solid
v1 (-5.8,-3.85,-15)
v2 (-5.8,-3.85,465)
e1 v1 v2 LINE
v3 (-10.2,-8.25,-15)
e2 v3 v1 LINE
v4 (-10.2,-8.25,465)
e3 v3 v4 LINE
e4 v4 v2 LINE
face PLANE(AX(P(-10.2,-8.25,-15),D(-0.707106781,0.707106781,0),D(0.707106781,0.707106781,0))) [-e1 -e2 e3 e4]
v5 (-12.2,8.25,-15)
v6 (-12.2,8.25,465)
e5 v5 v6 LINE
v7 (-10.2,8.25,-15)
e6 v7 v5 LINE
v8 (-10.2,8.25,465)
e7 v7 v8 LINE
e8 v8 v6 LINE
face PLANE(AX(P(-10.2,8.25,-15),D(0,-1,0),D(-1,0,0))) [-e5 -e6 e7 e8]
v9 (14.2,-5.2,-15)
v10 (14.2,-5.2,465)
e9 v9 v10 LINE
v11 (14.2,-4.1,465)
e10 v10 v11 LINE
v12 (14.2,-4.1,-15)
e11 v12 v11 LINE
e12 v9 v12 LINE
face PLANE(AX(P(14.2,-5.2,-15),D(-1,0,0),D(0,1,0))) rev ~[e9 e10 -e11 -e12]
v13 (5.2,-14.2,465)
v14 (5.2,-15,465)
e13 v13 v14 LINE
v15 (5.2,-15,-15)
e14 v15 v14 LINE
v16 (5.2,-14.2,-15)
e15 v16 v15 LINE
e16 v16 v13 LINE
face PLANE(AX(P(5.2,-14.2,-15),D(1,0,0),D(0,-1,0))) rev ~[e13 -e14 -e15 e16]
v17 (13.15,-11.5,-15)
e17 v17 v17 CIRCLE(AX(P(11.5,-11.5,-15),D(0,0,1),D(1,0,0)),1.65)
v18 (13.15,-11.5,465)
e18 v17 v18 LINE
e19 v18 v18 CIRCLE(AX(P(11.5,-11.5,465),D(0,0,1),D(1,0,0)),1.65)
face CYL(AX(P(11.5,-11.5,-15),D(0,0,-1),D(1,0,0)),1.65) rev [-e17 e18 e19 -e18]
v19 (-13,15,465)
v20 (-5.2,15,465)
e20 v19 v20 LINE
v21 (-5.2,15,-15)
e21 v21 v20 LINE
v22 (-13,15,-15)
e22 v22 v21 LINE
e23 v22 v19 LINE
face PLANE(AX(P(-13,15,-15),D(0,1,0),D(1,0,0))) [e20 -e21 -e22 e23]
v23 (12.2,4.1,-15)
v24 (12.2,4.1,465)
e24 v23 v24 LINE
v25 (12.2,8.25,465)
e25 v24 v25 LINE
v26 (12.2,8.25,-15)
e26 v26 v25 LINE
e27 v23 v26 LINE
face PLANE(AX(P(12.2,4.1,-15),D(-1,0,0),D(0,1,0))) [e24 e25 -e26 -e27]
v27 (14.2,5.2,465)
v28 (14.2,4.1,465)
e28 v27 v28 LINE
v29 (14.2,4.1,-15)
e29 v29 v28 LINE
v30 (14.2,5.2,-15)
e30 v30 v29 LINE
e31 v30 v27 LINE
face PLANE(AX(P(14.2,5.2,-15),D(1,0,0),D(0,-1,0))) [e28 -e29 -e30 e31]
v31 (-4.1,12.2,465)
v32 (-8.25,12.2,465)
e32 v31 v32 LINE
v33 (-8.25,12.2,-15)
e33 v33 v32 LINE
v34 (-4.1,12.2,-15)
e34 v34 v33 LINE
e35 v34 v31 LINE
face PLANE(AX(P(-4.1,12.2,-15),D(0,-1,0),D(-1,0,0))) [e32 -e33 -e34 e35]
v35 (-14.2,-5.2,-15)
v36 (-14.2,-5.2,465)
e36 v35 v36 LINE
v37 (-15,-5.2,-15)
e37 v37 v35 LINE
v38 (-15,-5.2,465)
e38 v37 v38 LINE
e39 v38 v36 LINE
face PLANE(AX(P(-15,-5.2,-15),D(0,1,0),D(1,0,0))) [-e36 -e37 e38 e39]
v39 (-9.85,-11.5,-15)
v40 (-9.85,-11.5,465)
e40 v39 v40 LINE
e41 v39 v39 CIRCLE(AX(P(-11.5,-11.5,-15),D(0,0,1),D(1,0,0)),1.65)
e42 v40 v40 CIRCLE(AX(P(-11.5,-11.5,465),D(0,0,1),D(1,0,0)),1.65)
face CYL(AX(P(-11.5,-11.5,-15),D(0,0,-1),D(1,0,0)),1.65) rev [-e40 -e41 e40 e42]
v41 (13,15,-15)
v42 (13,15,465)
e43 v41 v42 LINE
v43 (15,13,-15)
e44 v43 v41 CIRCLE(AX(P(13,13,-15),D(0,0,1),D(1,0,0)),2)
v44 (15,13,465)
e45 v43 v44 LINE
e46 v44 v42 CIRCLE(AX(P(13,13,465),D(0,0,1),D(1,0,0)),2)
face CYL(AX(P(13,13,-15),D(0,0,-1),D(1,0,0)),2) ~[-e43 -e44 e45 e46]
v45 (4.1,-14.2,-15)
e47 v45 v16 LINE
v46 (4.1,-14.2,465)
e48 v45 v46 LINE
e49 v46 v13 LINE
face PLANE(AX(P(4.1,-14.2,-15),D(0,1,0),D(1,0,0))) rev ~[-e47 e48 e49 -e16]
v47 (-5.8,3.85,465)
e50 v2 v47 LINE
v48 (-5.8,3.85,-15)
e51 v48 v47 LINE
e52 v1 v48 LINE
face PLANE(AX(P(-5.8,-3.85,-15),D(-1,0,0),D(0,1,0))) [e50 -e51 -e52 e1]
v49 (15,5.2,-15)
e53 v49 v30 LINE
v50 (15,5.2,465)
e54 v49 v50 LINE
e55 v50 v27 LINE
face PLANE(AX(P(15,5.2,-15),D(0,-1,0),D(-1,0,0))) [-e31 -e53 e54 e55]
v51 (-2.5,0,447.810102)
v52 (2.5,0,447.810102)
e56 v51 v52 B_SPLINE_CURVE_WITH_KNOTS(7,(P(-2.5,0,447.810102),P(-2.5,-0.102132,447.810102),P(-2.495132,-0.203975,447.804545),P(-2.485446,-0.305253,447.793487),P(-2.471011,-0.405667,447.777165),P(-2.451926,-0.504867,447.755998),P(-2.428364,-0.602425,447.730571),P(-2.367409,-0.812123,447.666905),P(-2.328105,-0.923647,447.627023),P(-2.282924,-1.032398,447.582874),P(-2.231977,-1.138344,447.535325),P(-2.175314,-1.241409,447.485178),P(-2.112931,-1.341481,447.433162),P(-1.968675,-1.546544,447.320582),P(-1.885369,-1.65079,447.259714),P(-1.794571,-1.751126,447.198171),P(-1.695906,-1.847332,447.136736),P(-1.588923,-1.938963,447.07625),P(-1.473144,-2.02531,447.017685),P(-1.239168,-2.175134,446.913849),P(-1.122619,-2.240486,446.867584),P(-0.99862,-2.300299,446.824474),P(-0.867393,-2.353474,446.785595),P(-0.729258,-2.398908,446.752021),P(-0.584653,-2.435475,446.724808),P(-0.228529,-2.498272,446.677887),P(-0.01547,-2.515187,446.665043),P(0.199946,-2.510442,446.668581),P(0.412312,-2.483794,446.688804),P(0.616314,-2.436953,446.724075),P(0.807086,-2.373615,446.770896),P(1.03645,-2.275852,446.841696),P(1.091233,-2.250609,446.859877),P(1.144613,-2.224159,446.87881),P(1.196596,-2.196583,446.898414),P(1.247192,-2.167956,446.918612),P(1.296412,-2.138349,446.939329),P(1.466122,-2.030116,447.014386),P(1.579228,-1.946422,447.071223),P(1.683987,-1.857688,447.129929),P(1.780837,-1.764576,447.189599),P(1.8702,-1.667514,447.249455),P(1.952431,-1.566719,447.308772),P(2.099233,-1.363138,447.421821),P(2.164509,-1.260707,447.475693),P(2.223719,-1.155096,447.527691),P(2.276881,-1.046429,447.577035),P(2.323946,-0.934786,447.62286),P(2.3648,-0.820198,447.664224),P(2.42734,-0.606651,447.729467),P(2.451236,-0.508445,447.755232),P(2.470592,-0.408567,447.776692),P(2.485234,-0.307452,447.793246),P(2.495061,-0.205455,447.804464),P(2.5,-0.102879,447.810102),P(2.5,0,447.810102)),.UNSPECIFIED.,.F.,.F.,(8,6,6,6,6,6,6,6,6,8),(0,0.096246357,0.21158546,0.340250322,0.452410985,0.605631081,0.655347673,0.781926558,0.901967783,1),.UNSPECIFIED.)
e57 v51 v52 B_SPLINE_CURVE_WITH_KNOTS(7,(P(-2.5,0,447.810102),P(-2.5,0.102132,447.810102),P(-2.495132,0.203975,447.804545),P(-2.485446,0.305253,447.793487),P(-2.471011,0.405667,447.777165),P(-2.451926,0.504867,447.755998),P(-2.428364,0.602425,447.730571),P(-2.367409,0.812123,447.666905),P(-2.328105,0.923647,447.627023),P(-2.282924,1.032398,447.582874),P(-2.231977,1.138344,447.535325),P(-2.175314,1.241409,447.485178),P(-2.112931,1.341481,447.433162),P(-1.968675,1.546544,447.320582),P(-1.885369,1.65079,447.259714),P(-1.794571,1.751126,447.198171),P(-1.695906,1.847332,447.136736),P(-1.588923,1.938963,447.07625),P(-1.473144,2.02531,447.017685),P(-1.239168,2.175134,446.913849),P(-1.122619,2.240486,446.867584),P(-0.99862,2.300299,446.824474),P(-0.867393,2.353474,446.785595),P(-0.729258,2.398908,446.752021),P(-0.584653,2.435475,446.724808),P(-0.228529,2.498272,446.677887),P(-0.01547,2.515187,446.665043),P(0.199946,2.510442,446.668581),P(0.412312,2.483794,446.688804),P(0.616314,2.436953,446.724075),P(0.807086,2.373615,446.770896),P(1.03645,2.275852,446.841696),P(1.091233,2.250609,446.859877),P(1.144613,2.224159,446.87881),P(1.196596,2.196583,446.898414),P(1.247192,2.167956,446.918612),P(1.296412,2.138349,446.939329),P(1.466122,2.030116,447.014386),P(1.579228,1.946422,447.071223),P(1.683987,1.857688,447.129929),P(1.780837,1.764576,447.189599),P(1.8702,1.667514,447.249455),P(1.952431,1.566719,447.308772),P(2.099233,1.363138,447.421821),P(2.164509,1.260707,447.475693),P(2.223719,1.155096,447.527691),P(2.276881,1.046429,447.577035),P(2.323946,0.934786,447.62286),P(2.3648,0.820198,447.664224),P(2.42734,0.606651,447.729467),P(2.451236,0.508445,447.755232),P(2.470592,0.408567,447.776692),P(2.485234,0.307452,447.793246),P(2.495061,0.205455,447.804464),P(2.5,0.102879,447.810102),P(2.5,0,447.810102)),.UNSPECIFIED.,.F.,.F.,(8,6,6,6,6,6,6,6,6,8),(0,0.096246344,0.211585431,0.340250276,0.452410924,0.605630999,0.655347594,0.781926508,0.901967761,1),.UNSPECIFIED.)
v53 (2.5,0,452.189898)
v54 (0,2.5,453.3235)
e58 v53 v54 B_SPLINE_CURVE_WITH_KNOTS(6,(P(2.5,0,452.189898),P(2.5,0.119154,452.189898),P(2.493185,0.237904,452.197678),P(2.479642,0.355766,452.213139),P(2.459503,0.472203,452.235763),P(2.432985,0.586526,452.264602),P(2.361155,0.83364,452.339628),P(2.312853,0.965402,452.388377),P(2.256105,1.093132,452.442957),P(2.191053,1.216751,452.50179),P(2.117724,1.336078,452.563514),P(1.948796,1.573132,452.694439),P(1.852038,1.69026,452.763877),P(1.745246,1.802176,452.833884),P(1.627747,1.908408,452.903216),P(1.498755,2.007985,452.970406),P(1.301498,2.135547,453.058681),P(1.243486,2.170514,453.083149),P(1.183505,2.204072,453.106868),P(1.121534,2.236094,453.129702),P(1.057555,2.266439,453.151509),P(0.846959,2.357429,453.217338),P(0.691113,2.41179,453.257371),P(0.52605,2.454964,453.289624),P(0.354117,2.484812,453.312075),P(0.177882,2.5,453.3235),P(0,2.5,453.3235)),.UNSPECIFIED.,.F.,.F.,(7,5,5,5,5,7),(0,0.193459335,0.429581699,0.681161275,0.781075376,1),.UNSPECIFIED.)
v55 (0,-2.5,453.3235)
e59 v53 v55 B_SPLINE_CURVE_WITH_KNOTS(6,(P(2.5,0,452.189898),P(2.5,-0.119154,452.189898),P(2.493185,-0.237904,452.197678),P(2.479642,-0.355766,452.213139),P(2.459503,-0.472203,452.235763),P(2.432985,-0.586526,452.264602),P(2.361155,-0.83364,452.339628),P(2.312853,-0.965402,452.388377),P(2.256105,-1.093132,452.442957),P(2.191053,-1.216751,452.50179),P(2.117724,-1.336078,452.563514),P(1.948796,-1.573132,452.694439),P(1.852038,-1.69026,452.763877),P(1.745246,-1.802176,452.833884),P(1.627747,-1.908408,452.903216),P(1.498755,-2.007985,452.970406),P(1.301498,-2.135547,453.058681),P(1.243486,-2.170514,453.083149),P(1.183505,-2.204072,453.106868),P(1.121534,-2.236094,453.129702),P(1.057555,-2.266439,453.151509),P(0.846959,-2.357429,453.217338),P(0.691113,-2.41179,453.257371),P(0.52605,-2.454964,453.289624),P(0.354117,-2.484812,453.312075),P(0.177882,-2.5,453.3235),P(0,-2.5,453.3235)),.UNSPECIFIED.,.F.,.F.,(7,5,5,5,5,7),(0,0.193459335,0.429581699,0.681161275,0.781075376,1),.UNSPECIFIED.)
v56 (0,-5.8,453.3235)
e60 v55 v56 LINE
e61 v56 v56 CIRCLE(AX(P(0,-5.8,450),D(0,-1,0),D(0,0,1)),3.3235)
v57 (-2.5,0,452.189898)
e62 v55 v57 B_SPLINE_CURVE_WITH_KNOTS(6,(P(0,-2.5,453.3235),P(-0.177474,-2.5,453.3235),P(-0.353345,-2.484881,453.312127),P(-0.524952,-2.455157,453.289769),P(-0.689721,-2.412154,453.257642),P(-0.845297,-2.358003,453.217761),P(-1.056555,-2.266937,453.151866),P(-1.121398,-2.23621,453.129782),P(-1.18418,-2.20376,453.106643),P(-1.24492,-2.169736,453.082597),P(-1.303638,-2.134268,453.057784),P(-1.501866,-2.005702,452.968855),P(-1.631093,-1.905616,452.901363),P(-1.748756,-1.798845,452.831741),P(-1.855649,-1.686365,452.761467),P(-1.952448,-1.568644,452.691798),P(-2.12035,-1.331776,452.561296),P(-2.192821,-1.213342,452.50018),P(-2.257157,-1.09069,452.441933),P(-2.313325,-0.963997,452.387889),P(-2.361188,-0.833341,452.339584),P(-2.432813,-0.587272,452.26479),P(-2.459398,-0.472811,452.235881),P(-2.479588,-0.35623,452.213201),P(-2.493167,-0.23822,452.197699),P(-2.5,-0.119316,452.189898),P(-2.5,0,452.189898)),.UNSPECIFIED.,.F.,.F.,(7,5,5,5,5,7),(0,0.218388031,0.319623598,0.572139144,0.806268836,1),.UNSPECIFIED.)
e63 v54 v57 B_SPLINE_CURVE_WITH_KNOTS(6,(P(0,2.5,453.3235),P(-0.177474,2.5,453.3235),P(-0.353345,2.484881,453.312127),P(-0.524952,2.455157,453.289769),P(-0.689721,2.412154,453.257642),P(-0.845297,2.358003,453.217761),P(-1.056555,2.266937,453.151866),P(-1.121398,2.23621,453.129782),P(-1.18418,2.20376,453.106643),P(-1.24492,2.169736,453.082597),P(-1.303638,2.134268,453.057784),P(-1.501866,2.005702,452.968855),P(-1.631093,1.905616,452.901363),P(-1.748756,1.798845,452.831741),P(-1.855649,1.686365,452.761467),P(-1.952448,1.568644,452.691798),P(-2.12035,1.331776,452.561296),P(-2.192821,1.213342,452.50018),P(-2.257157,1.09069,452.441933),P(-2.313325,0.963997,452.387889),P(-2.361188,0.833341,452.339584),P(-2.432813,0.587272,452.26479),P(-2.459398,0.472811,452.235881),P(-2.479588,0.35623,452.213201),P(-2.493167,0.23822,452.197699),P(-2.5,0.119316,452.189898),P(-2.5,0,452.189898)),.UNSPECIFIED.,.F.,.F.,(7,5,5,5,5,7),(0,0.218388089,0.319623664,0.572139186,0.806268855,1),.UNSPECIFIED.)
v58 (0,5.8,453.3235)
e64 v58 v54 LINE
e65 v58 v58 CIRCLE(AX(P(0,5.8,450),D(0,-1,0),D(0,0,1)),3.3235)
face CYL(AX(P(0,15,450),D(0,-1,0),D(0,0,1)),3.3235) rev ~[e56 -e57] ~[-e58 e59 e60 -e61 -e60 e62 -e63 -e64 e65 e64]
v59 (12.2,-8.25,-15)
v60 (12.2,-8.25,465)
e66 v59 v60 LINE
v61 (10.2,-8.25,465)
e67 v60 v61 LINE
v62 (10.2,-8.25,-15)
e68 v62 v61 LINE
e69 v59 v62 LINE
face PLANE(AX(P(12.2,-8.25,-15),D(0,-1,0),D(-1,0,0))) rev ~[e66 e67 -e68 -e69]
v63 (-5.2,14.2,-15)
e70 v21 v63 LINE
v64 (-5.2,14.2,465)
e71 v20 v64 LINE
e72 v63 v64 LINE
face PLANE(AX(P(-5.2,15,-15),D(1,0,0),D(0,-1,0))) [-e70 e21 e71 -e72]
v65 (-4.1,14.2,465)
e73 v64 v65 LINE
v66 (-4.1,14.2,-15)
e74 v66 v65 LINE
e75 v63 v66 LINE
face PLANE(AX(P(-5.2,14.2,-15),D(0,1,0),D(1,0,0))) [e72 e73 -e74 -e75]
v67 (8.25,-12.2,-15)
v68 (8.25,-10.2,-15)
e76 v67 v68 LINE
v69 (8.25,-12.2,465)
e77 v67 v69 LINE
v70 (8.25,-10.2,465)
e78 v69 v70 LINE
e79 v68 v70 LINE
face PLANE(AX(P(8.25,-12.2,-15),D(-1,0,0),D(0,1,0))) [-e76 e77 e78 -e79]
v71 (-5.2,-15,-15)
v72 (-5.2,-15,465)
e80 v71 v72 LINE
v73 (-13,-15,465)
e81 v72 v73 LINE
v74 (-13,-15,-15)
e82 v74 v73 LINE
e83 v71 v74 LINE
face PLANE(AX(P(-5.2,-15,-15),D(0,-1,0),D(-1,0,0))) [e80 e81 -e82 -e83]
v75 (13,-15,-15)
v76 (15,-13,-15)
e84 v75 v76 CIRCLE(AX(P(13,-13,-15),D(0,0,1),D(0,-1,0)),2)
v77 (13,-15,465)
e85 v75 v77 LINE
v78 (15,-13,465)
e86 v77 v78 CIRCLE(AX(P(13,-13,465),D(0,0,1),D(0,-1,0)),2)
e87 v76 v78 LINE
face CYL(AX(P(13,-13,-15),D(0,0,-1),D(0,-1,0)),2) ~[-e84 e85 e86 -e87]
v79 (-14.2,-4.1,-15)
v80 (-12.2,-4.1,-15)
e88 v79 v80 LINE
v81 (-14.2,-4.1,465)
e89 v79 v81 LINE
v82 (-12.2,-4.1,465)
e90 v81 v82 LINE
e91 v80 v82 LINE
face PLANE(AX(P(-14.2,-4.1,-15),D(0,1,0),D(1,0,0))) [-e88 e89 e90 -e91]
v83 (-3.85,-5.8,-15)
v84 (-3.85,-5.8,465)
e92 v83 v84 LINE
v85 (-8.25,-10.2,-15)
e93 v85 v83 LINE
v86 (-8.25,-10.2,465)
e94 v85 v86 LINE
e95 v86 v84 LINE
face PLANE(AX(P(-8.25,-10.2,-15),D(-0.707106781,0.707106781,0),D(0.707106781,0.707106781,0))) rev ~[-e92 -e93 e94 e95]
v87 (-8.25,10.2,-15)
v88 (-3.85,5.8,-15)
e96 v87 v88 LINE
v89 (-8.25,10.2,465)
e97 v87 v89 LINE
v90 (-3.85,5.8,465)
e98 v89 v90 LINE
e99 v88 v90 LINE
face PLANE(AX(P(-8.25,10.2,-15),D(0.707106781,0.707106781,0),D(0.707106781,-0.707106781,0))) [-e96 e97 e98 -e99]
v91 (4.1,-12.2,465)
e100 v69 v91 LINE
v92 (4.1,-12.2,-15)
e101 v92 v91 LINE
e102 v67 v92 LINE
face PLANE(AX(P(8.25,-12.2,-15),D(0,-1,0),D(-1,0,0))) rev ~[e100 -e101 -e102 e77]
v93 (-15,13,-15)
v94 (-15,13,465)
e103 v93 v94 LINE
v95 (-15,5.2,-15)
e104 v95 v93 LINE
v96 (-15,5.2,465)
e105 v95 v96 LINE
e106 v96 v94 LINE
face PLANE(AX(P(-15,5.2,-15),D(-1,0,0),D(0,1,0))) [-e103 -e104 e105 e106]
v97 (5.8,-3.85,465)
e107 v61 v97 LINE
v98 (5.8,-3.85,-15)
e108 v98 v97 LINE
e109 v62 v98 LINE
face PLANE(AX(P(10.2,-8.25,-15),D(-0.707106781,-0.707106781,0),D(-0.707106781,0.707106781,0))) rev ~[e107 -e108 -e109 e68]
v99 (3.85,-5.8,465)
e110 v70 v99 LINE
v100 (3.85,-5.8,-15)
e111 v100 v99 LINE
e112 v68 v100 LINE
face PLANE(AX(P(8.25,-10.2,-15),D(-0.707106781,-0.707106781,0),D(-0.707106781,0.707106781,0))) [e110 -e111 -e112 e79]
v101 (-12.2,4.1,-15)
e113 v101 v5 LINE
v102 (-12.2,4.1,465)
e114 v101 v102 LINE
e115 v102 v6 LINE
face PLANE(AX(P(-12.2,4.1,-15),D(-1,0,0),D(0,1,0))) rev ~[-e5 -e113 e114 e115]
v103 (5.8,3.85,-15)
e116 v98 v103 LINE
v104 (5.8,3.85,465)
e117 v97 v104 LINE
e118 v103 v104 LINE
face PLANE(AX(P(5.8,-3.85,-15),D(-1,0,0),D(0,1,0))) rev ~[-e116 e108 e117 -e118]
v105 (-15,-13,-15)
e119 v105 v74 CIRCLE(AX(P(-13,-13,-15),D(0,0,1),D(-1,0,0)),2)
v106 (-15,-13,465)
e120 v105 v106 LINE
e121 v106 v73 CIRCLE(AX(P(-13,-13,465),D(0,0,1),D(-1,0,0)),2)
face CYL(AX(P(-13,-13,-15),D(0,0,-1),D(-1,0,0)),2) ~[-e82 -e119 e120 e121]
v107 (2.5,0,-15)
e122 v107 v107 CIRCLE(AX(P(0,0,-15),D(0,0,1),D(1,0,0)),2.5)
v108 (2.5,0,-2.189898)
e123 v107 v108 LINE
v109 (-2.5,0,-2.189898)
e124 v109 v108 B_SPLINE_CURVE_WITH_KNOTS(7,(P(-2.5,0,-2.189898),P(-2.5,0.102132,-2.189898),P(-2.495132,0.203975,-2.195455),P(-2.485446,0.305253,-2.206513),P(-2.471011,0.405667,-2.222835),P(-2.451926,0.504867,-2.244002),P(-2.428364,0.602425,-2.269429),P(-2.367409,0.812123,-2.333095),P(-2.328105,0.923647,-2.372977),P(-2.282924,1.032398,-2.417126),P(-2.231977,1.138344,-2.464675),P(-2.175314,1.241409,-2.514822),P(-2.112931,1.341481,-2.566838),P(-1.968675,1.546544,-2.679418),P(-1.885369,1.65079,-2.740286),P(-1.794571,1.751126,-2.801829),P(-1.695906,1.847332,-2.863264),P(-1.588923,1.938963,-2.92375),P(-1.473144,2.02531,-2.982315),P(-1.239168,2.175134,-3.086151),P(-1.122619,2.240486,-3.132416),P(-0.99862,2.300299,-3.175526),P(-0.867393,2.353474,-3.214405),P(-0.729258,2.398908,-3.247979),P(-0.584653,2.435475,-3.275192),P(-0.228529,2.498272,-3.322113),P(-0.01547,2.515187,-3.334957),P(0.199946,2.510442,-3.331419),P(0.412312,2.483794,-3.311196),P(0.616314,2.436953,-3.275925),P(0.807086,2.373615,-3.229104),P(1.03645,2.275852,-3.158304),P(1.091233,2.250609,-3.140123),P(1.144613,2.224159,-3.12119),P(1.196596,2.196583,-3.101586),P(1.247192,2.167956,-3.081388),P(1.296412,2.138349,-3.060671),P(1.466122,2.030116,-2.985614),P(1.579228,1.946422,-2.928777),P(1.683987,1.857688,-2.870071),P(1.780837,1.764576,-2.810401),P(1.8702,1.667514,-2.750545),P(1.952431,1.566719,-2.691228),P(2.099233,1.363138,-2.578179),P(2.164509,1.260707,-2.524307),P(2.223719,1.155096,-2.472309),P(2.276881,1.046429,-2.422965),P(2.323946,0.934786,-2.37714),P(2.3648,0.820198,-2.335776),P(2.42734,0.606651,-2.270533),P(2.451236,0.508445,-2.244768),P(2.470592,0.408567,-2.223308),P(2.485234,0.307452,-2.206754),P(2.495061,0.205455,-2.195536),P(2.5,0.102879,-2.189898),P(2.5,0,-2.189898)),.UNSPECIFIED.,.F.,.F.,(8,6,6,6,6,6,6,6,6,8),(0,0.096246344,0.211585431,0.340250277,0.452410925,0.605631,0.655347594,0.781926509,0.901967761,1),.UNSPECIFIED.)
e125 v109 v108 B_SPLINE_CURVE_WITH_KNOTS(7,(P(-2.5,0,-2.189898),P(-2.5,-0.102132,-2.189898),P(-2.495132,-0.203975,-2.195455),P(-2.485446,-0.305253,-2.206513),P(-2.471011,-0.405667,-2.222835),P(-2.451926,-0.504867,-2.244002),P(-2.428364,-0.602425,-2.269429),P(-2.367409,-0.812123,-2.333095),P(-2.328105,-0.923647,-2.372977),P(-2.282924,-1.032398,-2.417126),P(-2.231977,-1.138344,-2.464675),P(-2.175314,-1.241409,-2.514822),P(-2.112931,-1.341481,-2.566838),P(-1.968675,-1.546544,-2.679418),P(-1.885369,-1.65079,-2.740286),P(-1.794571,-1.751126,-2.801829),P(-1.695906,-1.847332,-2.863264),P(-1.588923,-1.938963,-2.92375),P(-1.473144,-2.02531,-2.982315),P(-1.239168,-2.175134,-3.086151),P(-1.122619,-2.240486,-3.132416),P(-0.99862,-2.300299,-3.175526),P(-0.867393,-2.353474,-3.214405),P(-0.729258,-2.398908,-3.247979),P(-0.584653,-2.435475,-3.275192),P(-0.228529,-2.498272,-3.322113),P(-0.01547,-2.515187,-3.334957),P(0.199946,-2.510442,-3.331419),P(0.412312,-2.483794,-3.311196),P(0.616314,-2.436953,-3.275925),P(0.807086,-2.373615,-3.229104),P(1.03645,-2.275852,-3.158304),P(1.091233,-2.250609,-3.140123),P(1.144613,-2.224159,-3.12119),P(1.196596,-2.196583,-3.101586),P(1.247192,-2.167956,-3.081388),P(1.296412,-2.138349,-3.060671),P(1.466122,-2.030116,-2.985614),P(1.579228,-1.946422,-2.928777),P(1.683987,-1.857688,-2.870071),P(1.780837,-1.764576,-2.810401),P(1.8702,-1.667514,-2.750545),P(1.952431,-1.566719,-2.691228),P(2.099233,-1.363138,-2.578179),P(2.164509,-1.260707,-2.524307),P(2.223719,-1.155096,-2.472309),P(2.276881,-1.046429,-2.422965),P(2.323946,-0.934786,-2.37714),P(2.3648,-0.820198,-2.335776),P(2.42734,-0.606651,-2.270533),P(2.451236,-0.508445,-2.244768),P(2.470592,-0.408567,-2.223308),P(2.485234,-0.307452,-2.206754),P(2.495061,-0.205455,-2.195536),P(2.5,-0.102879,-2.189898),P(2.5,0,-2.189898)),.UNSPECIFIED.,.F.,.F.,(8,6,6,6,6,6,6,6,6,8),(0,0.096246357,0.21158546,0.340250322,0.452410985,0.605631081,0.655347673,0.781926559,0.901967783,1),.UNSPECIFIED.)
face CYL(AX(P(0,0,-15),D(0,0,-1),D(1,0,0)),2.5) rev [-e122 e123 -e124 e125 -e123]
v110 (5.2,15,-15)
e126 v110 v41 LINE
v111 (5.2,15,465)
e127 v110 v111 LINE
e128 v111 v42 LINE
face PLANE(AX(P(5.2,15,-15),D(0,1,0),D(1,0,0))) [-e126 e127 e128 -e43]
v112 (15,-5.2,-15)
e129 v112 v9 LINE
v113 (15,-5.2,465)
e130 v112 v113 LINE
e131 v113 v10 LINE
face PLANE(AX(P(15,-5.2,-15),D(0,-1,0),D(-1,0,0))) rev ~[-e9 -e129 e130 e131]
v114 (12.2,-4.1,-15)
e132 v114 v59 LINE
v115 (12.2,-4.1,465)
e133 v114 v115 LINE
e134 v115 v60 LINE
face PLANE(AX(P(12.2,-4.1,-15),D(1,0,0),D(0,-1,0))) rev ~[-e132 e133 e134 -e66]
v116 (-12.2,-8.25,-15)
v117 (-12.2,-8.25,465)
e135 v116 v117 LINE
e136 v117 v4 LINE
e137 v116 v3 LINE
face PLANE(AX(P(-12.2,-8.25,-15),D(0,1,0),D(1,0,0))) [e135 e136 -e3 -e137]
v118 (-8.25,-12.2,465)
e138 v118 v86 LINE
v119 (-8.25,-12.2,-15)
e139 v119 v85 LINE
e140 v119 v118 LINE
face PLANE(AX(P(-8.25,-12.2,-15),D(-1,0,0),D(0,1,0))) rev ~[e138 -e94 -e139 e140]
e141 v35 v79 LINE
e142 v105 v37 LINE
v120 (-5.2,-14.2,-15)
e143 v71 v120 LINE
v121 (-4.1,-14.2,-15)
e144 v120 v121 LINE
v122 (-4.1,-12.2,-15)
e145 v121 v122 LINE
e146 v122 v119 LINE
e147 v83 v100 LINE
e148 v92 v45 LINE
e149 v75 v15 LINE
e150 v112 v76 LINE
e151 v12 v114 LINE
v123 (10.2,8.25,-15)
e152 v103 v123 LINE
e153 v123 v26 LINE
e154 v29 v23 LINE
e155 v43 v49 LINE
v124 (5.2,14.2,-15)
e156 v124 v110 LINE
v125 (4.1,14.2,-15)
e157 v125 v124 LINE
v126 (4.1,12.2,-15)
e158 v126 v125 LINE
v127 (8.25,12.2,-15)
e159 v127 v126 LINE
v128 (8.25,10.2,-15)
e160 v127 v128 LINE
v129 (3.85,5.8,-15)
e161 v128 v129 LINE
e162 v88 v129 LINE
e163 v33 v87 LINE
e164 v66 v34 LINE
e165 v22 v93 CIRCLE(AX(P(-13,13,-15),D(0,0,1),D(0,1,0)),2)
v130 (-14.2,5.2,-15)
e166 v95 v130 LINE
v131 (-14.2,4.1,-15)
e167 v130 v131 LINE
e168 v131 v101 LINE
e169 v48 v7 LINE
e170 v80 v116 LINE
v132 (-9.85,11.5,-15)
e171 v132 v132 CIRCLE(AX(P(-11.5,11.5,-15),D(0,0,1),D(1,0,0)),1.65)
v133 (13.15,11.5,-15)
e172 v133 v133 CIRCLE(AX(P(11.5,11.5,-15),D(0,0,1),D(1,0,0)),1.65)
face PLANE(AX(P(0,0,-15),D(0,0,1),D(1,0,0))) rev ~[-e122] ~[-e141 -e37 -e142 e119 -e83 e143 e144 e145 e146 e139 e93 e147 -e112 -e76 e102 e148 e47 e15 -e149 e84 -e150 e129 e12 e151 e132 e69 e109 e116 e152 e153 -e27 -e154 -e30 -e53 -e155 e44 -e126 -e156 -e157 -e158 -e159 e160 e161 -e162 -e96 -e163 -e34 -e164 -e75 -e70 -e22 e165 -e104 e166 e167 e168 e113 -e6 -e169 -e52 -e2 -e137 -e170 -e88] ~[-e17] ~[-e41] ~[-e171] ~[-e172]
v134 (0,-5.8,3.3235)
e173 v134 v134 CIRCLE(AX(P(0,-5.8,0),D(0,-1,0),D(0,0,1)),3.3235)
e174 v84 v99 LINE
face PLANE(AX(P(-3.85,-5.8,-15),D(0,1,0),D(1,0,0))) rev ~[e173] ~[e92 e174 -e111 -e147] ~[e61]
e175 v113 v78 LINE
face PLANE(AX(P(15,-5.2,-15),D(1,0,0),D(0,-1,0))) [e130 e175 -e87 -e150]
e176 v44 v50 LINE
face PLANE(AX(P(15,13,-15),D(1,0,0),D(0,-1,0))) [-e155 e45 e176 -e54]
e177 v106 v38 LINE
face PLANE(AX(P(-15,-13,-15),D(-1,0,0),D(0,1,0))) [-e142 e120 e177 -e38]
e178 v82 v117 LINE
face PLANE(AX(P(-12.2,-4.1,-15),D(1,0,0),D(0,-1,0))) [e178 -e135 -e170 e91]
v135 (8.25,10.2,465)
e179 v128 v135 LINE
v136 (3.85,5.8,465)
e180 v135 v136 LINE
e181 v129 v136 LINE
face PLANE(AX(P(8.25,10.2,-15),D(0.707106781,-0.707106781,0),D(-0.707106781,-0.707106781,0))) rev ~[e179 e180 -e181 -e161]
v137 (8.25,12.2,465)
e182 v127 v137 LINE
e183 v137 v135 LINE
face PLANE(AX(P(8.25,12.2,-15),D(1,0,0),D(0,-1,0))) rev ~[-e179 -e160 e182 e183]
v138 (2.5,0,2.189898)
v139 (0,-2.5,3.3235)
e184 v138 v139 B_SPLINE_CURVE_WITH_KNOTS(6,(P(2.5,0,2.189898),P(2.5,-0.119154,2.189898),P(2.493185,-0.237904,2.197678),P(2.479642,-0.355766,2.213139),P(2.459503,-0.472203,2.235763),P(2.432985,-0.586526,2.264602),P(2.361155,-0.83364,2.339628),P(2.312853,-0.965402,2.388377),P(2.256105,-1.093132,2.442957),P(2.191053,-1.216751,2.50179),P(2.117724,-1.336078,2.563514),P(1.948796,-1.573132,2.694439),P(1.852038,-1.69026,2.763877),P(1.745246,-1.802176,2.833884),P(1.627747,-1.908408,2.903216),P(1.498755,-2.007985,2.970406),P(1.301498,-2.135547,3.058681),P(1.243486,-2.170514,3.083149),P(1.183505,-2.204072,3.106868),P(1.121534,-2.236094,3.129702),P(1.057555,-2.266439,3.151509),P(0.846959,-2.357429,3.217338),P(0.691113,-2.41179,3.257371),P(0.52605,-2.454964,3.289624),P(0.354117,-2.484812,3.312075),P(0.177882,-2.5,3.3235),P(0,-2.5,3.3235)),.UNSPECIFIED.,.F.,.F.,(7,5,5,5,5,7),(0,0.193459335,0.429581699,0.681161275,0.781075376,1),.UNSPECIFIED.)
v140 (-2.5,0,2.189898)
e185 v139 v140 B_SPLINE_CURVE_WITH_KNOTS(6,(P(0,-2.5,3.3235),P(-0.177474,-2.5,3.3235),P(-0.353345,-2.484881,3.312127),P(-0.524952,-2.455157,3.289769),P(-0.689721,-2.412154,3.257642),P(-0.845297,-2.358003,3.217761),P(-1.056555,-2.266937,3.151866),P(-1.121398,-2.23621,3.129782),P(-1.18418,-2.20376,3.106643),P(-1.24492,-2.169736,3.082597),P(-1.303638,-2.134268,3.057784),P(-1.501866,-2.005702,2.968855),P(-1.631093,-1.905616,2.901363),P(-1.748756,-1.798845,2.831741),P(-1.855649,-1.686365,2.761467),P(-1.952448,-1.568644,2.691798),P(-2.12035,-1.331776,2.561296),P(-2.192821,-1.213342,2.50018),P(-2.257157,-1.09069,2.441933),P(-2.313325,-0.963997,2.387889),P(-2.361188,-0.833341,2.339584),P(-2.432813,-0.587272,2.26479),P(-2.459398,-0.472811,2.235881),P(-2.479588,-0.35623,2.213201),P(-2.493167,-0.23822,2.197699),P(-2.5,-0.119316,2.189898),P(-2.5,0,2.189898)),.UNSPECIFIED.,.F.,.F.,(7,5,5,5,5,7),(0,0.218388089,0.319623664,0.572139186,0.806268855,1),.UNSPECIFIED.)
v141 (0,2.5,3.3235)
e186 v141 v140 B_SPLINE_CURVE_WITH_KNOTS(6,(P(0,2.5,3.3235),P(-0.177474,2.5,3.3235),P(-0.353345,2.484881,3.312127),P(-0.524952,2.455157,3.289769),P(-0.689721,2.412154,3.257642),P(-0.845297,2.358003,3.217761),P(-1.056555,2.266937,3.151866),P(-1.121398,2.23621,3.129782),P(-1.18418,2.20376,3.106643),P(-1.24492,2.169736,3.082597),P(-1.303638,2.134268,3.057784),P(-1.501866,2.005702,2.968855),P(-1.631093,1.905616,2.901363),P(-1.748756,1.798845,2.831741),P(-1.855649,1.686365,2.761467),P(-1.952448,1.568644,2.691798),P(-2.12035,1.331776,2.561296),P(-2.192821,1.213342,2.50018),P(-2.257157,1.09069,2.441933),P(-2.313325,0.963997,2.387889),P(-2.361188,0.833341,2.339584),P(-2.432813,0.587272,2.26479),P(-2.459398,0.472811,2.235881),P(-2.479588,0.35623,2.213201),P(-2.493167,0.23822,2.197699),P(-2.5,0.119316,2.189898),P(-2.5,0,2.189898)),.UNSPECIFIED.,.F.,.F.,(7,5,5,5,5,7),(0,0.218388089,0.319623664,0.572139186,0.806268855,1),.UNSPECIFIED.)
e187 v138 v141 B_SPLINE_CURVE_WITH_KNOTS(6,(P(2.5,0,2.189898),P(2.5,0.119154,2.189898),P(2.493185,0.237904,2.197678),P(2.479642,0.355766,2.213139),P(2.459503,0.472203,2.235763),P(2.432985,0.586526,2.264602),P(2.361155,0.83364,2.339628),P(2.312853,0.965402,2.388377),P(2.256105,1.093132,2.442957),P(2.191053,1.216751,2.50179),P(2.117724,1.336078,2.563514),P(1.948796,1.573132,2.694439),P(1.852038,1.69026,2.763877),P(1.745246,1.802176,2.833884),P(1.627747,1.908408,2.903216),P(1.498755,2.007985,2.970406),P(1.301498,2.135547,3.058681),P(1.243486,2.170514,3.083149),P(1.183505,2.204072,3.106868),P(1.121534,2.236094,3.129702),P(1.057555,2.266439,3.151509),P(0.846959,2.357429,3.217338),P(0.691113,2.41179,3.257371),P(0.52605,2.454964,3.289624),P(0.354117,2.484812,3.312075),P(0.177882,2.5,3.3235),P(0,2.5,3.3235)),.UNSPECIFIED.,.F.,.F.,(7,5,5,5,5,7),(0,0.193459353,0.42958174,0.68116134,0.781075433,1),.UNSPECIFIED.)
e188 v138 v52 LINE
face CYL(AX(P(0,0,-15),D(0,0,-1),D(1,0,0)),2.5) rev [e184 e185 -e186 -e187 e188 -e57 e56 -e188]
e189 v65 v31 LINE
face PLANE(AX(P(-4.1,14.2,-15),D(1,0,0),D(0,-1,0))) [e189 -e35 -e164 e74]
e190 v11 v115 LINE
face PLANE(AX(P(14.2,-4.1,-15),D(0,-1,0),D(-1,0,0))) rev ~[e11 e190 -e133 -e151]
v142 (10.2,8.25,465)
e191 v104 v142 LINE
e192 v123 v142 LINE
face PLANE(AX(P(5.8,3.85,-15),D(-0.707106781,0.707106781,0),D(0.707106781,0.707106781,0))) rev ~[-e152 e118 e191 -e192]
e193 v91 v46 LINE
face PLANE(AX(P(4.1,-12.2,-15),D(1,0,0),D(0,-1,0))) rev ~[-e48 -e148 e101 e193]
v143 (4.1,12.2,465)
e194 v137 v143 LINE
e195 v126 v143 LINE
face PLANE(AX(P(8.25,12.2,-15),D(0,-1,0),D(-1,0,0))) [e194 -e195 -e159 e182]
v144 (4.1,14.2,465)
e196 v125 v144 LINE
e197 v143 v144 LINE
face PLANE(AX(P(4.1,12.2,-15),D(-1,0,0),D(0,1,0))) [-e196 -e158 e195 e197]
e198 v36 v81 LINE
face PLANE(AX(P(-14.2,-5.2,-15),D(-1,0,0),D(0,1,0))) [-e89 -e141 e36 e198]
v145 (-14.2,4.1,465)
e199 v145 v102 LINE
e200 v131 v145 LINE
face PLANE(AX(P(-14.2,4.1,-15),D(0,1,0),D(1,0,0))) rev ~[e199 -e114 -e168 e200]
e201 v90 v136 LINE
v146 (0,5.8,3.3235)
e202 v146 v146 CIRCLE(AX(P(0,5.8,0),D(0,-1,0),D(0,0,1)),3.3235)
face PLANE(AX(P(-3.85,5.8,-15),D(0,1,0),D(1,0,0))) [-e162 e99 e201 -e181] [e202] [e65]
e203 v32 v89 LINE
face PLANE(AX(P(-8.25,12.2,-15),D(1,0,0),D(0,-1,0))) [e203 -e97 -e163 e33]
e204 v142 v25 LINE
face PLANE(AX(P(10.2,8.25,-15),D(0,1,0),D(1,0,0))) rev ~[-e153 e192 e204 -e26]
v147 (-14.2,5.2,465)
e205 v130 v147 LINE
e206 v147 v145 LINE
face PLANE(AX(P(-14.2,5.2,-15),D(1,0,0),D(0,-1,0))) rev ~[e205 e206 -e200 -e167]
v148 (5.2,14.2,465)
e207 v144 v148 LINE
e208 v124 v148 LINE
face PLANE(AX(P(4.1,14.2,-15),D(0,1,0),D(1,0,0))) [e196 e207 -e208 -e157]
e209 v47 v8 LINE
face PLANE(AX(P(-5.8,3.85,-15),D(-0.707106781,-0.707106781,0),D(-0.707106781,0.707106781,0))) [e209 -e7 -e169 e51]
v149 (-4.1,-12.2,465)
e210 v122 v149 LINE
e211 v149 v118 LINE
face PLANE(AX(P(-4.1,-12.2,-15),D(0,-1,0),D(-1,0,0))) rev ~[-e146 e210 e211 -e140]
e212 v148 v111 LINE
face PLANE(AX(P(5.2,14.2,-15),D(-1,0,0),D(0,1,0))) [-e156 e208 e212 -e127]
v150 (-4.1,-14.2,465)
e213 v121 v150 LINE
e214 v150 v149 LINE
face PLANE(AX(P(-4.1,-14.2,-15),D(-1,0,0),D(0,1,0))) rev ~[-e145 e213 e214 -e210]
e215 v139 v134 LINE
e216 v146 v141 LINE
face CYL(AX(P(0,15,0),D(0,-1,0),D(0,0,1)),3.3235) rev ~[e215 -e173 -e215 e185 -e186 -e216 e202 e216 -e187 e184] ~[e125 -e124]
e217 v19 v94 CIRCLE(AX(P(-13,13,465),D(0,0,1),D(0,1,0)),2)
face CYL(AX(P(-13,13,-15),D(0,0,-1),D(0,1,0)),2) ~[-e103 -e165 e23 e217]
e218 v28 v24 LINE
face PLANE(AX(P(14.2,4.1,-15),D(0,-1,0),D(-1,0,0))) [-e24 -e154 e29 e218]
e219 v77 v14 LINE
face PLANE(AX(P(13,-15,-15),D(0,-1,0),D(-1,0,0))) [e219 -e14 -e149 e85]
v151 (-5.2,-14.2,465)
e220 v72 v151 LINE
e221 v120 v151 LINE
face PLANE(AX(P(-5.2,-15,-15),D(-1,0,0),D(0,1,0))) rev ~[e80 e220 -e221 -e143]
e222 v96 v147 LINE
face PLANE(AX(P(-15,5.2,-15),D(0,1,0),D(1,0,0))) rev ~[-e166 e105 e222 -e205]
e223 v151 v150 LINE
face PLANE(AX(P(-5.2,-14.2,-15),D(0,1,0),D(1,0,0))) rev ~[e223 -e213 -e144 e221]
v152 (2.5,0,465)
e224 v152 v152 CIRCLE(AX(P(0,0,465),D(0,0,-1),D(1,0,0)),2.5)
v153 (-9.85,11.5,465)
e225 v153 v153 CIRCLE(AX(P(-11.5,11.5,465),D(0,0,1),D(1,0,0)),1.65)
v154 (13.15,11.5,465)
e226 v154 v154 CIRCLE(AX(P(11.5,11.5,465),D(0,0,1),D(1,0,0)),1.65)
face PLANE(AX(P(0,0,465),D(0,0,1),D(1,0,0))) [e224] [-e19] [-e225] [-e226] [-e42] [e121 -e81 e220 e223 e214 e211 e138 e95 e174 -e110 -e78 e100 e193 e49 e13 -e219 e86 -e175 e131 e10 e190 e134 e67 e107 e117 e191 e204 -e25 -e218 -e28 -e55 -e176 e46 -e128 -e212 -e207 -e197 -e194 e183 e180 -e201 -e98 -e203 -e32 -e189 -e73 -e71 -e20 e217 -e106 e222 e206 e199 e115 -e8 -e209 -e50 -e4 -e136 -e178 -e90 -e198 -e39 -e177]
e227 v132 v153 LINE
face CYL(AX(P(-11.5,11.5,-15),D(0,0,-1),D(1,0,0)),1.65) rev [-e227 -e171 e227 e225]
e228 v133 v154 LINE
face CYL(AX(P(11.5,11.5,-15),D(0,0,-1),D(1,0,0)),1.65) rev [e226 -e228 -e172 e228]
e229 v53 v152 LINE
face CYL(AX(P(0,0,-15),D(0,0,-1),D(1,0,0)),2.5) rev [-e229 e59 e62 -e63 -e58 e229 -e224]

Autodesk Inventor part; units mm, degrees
sketch "Sketch" plane through (0, 0, 0) normal (0, 0, 1) x (1, 0, 0)
  line L0 (-13, 15) -> (13, 15)
  line L1 (15, 13) -> (15, -13)
  line L2 (-15, 15) -> (15, -15) construction
  line L3 (15, 15) -> (-15, -15) construction
  line L4 (-5.2, 15) -> (-5.2, 14.2)
  line L5 (-5.2, 14.2) -> (-4.1, 14.2)
  line L6 (-4.1, 14.2) -> (-4.1, 12.2)
  line L7 (-4.1, 12.2) -> (-8.25, 12.2)
  line L8 (-8.25, 12.2) -> (-8.25, 10.2)
  line L9 (-8.25, 10.2) -> (-3.85, 5.8)
  line L10 (-3.85, 5.8) -> (3.85, 5.8)
  line L11 (8.25, 12.2) -> (4.1, 12.2)
  line L12 (4.1, 12.2) -> (4.1, 14.2)
  line L13 (4.1, 14.2) -> (5.2, 14.2)
  line L14 (5.2, 14.2) -> (5.2, 15)
  line L15 (8.25, 12.2) -> (8.25, 10.2)
  line L16 (8.25, 10.2) -> (3.85, 5.8)
  line L17 (-2.5, 0) -> (0, 0)
  line L18 (-5.2, -15) -> (-5.2, -14.2)
  line L19 (-5.2, -14.2) -> (-4.1, -14.2)
  line L20 (-4.1, -14.2) -> (-4.1, -12.2)
  line L21 (-4.1, -12.2) -> (-8.25, -12.2)
  line L22 (-8.25, -12.2) -> (-8.25, -10.2)
  line L23 (-8.25, -10.2) -> (-3.85, -5.8)
  line L24 (-3.85, -5.8) -> (3.85, -5.8)
  line L25 (8.25, -12.2) -> (4.1, -12.2)
  line L26 (4.1, -12.2) -> (4.1, -14.2)
  line L27 (4.1, -14.2) -> (5.2, -14.2)
  line L28 (5.2, -14.2) -> (5.2, -15)
  line L29 (8.25, -12.2) -> (8.25, -10.2)
  line L30 (8.25, -10.2) -> (3.85, -5.8)
  line L31 (15, 5.2) -> (14.2, 5.2)
  line L32 (14.2, 5.2) -> (14.2, 4.1)
  line L33 (14.2, 4.1) -> (12.2, 4.1)
  line L34 (12.2, 4.1) -> (12.2, 8.25)
  line L35 (15, -5.2) -> (14.2, -5.2)
  line L36 (14.2, -5.2) -> (14.2, -4.1)
  line L37 (14.2, -4.1) -> (12.2, -4.1)
  line L38 (12.2, -4.1) -> (12.2, -8.25)
  line L39 (12.2, -8.25) -> (10.2, -8.25)
  line L40 (10.2, -8.25) -> (5.8, -3.85)
  line L41 (5.8, -3.85) -> (5.8, 3.85)
  line L42 (5.8, 3.85) -> (10.2, 8.25)
  line L43 (10.2, 8.25) -> (12.2, 8.25)
  line L44 (-15, 5.2) -> (-14.2, 5.2)
  line L45 (-14.2, 5.2) -> (-14.2, 4.1)
  line L46 (-14.2, 4.1) -> (-12.2, 4.1)
  line L47 (-12.2, 4.1) -> (-12.2, 8.25)
  line L48 (-15, -5.2) -> (-14.2, -5.2)
  line L49 (-14.2, -5.2) -> (-14.2, -4.1)
  line L50 (-14.2, -4.1) -> (-12.2, -4.1)
  line L51 (-12.2, -4.1) -> (-12.2, -8.25)
  line L52 (-12.2, -8.25) -> (-10.2, -8.25)
  line L53 (-10.2, -8.25) -> (-5.8, -3.85)
  line L54 (-5.8, -3.85) -> (-5.8, 3.85)
  line L55 (-5.8, 3.85) -> (-10.2, 8.25)
  line L56 (-10.2, 8.25) -> (-12.2, 8.25)
  circle A0 centre (11.5, 11.5) radius 1.65
  circle A1 centre (11.5, -11.5) radius 1.65
  circle A2 centre (-11.5, 11.5) radius 1.65
  circle A3 centre (-11.5, -11.5) radius 1.65
  line L57 (-15, -13) -> (-15, -5.2)
  line L58 (-15, 5.2) -> (-15, 13)
  line L59 (13, -15) -> (5.2, -15)
  line L60 (-5.2, -15) -> (-13, -15)
  arc A4 (-13, 15) -> (-15, 13) centre (-13, 13) ccw
  arc A5 (15, 13) -> (13, 15) centre (13, 13) ccw
  arc A6 (13, -15) -> (15, -13) centre (13, -13) ccw
  arc A7 (-15, -13) -> (-13, -15) centre (-13, -13) ccw
  circle A8 centre (0, 0) radius 2.5
  point P0 (0, 0)
  point P1 (0, 5.8)
  point P2 (0, -2.5)
  point P3 (0, 2.5)
  dimension "d2" = 8.2
  dimension "d3" = 4.1
  dimension "d4" = 10.4
  dimension "d5" = 5.2
  dimension "d8" = 9.2
  dimension "d11" = 16.5
  dimension "d12" = 8.25
  dimension "d14" = 0.8
  dimension "d15" = 2
  dimension "d16" = 2
  dimension "d34" = 0.8
  dimension "d35" = 10.4
  dimension "d36" = 5.2
  dimension "d37" = 8.2
  dimension "d38" = 4.1
  dimension "d39" = 2
  dimension "d40" = 16.5
  dimension "d41" = 8.25
  dimension "d42" = 2
  dimension "d43" = 9.2
  dimension "d44" = 23
  dimension "d45" = 11.5
  dimension "d46" = 23
  dimension "d48" = 3.3
  dimension "d55" = 2
  dimension "d62" = 5
  dimension "d65" = 11.5
  dimension "d66" = 6.4
  dimension "d67" = 3.25
  dimension "d68" = 4.15
  dimension "d69" = 0.8
  dimension "d70" = 2
  dimension "d71" = 2.7577
  dimension "d72" = 5.8
  dimension "d73" = 2.7577
  dimension "d74" = 4.15
  dimension "d75" = 2
  dimension "d76" = 3.25
  dimension "d77" = 2
  dimension "d78" = 1.1
  dimension "d79" = 0.8
  dimension "d80" = 135
  dimension "d81" = 2
  dimension "d82" = 1.1
  dimension "d83" = 7.4
  dimension "d84" = 7.4
  dimension "d85" = 6.4
  dimension "d86" = 6.3
ref_plane "Work Plane3" through (0, 0, 250) normal (0, 0, 1) x (1, 0, 0)
ref_plane "Start Plane" through (0, 0, 0) normal (0, 0, 1) x (1, 0, 0)
ref_plane "End Plane" through (0, 0, 450) normal (0, 0, 1) x (1, 0, 0)
ref_plane "Start Plane1" through (0, 0, 0) normal (0, 0, 1) x (1, 0, 0)
ref_plane "End Plane1" through (0, 0, 450) normal (0, 0, 1) x (1, 0, 0)
ref_plane "Start Plane2" through (0, 0, -15) normal (0, 0, 1) x (1, 0, 0)
ref_plane "End Plane2" through (0, 0, 465) normal (0, 0, 1) x (1, 0, 0)
extrude "Body" add sketch "Sketch" along normal up to surface (480 mm away) from surface at -15 contours L0 L4 L5 L6 L7 L8 L9 L10 L16 L15 L11 L12 L13 L14 A5 L1 L31 L32 L33 L34 L43 L42 L41 L40 L39 L38 L37 L36 L35 A6 L59 L28 L27 L26 L25 L29 L30 L24 L23 L22 L21 L20 L19 L18 L60 A7 L57 L48 L49 L50 L51 L52 L53 L54 L55 L56 L47 L46 L45 L44 L58 A4
sketch "Sketch7" plane through (0, 0, 0) normal (0, 0, 1) x (1, 0, 0)
  line L0 (0, 0) -> (10, 0)
ref_plane "Work Plane10" through (0, 0, 0) normal (0, -1, 0) x (1, 0, 0)
sketch "Sketch8" plane through (0, 0, 0) normal (0, -1, 0) x (1, 0, 0)
  line L0 (-2, -15) -> (12, -15)
  line L1 (-2, 465) -> (12, 465)
  dimension "d100" = 480
sketch "Sketch10" plane through (-5.2, 15, 465) normal (0, 1, 0) x (1, 0, 0)
  line L0 (-7.8, 0) -> (18.2, 0) projected
  point P0 (5.2, 465)
  point P1 (5.2, 465)
  point P2 (5.2, 15)
  point P3 (5.2, 0)
  dimension "d110" = 15
hole "Hole2" at (0, 15, 0) at (0, 15, 450) direction (0, -1, 0) diameter 6.647 end through all thread size "M8x1.25" class "6H" standard "ISO Metric profile"
equation "\"d3\" = 0.5 * d2"
equation "\"d5\" = 0.5 * d4"
equation "\"d12\" = 0.5 * d11"
equation "\"d36\" = 0.5 * d35"
equation "\"d38\" = 0.5 * d37"
equation "\"d41\" = 0.5 * d40"
equation "\"d45\" = 0.5 * d44"
equation "\"G_OFFSET_START\" = 0"
equation "\"G_OFFSET_END\" = 0"
equation "\"G_L\" = 500"
equation "\"G_OFFSET_START1\" = 0"
equation "\"G_OFFSET_END1\" = 0"
equation "\"G_OFFSET_START2\" = 15"
equation "\"G_OFFSET_END2\" = 15"
equation "\"d95\" = -G_OFFSET_START2"
equation "\"d96\" = Length + G_OFFSET_END2"
equation "\"Length\" = 450"
properties part number "480 mm" material "Aluminum 6061"
